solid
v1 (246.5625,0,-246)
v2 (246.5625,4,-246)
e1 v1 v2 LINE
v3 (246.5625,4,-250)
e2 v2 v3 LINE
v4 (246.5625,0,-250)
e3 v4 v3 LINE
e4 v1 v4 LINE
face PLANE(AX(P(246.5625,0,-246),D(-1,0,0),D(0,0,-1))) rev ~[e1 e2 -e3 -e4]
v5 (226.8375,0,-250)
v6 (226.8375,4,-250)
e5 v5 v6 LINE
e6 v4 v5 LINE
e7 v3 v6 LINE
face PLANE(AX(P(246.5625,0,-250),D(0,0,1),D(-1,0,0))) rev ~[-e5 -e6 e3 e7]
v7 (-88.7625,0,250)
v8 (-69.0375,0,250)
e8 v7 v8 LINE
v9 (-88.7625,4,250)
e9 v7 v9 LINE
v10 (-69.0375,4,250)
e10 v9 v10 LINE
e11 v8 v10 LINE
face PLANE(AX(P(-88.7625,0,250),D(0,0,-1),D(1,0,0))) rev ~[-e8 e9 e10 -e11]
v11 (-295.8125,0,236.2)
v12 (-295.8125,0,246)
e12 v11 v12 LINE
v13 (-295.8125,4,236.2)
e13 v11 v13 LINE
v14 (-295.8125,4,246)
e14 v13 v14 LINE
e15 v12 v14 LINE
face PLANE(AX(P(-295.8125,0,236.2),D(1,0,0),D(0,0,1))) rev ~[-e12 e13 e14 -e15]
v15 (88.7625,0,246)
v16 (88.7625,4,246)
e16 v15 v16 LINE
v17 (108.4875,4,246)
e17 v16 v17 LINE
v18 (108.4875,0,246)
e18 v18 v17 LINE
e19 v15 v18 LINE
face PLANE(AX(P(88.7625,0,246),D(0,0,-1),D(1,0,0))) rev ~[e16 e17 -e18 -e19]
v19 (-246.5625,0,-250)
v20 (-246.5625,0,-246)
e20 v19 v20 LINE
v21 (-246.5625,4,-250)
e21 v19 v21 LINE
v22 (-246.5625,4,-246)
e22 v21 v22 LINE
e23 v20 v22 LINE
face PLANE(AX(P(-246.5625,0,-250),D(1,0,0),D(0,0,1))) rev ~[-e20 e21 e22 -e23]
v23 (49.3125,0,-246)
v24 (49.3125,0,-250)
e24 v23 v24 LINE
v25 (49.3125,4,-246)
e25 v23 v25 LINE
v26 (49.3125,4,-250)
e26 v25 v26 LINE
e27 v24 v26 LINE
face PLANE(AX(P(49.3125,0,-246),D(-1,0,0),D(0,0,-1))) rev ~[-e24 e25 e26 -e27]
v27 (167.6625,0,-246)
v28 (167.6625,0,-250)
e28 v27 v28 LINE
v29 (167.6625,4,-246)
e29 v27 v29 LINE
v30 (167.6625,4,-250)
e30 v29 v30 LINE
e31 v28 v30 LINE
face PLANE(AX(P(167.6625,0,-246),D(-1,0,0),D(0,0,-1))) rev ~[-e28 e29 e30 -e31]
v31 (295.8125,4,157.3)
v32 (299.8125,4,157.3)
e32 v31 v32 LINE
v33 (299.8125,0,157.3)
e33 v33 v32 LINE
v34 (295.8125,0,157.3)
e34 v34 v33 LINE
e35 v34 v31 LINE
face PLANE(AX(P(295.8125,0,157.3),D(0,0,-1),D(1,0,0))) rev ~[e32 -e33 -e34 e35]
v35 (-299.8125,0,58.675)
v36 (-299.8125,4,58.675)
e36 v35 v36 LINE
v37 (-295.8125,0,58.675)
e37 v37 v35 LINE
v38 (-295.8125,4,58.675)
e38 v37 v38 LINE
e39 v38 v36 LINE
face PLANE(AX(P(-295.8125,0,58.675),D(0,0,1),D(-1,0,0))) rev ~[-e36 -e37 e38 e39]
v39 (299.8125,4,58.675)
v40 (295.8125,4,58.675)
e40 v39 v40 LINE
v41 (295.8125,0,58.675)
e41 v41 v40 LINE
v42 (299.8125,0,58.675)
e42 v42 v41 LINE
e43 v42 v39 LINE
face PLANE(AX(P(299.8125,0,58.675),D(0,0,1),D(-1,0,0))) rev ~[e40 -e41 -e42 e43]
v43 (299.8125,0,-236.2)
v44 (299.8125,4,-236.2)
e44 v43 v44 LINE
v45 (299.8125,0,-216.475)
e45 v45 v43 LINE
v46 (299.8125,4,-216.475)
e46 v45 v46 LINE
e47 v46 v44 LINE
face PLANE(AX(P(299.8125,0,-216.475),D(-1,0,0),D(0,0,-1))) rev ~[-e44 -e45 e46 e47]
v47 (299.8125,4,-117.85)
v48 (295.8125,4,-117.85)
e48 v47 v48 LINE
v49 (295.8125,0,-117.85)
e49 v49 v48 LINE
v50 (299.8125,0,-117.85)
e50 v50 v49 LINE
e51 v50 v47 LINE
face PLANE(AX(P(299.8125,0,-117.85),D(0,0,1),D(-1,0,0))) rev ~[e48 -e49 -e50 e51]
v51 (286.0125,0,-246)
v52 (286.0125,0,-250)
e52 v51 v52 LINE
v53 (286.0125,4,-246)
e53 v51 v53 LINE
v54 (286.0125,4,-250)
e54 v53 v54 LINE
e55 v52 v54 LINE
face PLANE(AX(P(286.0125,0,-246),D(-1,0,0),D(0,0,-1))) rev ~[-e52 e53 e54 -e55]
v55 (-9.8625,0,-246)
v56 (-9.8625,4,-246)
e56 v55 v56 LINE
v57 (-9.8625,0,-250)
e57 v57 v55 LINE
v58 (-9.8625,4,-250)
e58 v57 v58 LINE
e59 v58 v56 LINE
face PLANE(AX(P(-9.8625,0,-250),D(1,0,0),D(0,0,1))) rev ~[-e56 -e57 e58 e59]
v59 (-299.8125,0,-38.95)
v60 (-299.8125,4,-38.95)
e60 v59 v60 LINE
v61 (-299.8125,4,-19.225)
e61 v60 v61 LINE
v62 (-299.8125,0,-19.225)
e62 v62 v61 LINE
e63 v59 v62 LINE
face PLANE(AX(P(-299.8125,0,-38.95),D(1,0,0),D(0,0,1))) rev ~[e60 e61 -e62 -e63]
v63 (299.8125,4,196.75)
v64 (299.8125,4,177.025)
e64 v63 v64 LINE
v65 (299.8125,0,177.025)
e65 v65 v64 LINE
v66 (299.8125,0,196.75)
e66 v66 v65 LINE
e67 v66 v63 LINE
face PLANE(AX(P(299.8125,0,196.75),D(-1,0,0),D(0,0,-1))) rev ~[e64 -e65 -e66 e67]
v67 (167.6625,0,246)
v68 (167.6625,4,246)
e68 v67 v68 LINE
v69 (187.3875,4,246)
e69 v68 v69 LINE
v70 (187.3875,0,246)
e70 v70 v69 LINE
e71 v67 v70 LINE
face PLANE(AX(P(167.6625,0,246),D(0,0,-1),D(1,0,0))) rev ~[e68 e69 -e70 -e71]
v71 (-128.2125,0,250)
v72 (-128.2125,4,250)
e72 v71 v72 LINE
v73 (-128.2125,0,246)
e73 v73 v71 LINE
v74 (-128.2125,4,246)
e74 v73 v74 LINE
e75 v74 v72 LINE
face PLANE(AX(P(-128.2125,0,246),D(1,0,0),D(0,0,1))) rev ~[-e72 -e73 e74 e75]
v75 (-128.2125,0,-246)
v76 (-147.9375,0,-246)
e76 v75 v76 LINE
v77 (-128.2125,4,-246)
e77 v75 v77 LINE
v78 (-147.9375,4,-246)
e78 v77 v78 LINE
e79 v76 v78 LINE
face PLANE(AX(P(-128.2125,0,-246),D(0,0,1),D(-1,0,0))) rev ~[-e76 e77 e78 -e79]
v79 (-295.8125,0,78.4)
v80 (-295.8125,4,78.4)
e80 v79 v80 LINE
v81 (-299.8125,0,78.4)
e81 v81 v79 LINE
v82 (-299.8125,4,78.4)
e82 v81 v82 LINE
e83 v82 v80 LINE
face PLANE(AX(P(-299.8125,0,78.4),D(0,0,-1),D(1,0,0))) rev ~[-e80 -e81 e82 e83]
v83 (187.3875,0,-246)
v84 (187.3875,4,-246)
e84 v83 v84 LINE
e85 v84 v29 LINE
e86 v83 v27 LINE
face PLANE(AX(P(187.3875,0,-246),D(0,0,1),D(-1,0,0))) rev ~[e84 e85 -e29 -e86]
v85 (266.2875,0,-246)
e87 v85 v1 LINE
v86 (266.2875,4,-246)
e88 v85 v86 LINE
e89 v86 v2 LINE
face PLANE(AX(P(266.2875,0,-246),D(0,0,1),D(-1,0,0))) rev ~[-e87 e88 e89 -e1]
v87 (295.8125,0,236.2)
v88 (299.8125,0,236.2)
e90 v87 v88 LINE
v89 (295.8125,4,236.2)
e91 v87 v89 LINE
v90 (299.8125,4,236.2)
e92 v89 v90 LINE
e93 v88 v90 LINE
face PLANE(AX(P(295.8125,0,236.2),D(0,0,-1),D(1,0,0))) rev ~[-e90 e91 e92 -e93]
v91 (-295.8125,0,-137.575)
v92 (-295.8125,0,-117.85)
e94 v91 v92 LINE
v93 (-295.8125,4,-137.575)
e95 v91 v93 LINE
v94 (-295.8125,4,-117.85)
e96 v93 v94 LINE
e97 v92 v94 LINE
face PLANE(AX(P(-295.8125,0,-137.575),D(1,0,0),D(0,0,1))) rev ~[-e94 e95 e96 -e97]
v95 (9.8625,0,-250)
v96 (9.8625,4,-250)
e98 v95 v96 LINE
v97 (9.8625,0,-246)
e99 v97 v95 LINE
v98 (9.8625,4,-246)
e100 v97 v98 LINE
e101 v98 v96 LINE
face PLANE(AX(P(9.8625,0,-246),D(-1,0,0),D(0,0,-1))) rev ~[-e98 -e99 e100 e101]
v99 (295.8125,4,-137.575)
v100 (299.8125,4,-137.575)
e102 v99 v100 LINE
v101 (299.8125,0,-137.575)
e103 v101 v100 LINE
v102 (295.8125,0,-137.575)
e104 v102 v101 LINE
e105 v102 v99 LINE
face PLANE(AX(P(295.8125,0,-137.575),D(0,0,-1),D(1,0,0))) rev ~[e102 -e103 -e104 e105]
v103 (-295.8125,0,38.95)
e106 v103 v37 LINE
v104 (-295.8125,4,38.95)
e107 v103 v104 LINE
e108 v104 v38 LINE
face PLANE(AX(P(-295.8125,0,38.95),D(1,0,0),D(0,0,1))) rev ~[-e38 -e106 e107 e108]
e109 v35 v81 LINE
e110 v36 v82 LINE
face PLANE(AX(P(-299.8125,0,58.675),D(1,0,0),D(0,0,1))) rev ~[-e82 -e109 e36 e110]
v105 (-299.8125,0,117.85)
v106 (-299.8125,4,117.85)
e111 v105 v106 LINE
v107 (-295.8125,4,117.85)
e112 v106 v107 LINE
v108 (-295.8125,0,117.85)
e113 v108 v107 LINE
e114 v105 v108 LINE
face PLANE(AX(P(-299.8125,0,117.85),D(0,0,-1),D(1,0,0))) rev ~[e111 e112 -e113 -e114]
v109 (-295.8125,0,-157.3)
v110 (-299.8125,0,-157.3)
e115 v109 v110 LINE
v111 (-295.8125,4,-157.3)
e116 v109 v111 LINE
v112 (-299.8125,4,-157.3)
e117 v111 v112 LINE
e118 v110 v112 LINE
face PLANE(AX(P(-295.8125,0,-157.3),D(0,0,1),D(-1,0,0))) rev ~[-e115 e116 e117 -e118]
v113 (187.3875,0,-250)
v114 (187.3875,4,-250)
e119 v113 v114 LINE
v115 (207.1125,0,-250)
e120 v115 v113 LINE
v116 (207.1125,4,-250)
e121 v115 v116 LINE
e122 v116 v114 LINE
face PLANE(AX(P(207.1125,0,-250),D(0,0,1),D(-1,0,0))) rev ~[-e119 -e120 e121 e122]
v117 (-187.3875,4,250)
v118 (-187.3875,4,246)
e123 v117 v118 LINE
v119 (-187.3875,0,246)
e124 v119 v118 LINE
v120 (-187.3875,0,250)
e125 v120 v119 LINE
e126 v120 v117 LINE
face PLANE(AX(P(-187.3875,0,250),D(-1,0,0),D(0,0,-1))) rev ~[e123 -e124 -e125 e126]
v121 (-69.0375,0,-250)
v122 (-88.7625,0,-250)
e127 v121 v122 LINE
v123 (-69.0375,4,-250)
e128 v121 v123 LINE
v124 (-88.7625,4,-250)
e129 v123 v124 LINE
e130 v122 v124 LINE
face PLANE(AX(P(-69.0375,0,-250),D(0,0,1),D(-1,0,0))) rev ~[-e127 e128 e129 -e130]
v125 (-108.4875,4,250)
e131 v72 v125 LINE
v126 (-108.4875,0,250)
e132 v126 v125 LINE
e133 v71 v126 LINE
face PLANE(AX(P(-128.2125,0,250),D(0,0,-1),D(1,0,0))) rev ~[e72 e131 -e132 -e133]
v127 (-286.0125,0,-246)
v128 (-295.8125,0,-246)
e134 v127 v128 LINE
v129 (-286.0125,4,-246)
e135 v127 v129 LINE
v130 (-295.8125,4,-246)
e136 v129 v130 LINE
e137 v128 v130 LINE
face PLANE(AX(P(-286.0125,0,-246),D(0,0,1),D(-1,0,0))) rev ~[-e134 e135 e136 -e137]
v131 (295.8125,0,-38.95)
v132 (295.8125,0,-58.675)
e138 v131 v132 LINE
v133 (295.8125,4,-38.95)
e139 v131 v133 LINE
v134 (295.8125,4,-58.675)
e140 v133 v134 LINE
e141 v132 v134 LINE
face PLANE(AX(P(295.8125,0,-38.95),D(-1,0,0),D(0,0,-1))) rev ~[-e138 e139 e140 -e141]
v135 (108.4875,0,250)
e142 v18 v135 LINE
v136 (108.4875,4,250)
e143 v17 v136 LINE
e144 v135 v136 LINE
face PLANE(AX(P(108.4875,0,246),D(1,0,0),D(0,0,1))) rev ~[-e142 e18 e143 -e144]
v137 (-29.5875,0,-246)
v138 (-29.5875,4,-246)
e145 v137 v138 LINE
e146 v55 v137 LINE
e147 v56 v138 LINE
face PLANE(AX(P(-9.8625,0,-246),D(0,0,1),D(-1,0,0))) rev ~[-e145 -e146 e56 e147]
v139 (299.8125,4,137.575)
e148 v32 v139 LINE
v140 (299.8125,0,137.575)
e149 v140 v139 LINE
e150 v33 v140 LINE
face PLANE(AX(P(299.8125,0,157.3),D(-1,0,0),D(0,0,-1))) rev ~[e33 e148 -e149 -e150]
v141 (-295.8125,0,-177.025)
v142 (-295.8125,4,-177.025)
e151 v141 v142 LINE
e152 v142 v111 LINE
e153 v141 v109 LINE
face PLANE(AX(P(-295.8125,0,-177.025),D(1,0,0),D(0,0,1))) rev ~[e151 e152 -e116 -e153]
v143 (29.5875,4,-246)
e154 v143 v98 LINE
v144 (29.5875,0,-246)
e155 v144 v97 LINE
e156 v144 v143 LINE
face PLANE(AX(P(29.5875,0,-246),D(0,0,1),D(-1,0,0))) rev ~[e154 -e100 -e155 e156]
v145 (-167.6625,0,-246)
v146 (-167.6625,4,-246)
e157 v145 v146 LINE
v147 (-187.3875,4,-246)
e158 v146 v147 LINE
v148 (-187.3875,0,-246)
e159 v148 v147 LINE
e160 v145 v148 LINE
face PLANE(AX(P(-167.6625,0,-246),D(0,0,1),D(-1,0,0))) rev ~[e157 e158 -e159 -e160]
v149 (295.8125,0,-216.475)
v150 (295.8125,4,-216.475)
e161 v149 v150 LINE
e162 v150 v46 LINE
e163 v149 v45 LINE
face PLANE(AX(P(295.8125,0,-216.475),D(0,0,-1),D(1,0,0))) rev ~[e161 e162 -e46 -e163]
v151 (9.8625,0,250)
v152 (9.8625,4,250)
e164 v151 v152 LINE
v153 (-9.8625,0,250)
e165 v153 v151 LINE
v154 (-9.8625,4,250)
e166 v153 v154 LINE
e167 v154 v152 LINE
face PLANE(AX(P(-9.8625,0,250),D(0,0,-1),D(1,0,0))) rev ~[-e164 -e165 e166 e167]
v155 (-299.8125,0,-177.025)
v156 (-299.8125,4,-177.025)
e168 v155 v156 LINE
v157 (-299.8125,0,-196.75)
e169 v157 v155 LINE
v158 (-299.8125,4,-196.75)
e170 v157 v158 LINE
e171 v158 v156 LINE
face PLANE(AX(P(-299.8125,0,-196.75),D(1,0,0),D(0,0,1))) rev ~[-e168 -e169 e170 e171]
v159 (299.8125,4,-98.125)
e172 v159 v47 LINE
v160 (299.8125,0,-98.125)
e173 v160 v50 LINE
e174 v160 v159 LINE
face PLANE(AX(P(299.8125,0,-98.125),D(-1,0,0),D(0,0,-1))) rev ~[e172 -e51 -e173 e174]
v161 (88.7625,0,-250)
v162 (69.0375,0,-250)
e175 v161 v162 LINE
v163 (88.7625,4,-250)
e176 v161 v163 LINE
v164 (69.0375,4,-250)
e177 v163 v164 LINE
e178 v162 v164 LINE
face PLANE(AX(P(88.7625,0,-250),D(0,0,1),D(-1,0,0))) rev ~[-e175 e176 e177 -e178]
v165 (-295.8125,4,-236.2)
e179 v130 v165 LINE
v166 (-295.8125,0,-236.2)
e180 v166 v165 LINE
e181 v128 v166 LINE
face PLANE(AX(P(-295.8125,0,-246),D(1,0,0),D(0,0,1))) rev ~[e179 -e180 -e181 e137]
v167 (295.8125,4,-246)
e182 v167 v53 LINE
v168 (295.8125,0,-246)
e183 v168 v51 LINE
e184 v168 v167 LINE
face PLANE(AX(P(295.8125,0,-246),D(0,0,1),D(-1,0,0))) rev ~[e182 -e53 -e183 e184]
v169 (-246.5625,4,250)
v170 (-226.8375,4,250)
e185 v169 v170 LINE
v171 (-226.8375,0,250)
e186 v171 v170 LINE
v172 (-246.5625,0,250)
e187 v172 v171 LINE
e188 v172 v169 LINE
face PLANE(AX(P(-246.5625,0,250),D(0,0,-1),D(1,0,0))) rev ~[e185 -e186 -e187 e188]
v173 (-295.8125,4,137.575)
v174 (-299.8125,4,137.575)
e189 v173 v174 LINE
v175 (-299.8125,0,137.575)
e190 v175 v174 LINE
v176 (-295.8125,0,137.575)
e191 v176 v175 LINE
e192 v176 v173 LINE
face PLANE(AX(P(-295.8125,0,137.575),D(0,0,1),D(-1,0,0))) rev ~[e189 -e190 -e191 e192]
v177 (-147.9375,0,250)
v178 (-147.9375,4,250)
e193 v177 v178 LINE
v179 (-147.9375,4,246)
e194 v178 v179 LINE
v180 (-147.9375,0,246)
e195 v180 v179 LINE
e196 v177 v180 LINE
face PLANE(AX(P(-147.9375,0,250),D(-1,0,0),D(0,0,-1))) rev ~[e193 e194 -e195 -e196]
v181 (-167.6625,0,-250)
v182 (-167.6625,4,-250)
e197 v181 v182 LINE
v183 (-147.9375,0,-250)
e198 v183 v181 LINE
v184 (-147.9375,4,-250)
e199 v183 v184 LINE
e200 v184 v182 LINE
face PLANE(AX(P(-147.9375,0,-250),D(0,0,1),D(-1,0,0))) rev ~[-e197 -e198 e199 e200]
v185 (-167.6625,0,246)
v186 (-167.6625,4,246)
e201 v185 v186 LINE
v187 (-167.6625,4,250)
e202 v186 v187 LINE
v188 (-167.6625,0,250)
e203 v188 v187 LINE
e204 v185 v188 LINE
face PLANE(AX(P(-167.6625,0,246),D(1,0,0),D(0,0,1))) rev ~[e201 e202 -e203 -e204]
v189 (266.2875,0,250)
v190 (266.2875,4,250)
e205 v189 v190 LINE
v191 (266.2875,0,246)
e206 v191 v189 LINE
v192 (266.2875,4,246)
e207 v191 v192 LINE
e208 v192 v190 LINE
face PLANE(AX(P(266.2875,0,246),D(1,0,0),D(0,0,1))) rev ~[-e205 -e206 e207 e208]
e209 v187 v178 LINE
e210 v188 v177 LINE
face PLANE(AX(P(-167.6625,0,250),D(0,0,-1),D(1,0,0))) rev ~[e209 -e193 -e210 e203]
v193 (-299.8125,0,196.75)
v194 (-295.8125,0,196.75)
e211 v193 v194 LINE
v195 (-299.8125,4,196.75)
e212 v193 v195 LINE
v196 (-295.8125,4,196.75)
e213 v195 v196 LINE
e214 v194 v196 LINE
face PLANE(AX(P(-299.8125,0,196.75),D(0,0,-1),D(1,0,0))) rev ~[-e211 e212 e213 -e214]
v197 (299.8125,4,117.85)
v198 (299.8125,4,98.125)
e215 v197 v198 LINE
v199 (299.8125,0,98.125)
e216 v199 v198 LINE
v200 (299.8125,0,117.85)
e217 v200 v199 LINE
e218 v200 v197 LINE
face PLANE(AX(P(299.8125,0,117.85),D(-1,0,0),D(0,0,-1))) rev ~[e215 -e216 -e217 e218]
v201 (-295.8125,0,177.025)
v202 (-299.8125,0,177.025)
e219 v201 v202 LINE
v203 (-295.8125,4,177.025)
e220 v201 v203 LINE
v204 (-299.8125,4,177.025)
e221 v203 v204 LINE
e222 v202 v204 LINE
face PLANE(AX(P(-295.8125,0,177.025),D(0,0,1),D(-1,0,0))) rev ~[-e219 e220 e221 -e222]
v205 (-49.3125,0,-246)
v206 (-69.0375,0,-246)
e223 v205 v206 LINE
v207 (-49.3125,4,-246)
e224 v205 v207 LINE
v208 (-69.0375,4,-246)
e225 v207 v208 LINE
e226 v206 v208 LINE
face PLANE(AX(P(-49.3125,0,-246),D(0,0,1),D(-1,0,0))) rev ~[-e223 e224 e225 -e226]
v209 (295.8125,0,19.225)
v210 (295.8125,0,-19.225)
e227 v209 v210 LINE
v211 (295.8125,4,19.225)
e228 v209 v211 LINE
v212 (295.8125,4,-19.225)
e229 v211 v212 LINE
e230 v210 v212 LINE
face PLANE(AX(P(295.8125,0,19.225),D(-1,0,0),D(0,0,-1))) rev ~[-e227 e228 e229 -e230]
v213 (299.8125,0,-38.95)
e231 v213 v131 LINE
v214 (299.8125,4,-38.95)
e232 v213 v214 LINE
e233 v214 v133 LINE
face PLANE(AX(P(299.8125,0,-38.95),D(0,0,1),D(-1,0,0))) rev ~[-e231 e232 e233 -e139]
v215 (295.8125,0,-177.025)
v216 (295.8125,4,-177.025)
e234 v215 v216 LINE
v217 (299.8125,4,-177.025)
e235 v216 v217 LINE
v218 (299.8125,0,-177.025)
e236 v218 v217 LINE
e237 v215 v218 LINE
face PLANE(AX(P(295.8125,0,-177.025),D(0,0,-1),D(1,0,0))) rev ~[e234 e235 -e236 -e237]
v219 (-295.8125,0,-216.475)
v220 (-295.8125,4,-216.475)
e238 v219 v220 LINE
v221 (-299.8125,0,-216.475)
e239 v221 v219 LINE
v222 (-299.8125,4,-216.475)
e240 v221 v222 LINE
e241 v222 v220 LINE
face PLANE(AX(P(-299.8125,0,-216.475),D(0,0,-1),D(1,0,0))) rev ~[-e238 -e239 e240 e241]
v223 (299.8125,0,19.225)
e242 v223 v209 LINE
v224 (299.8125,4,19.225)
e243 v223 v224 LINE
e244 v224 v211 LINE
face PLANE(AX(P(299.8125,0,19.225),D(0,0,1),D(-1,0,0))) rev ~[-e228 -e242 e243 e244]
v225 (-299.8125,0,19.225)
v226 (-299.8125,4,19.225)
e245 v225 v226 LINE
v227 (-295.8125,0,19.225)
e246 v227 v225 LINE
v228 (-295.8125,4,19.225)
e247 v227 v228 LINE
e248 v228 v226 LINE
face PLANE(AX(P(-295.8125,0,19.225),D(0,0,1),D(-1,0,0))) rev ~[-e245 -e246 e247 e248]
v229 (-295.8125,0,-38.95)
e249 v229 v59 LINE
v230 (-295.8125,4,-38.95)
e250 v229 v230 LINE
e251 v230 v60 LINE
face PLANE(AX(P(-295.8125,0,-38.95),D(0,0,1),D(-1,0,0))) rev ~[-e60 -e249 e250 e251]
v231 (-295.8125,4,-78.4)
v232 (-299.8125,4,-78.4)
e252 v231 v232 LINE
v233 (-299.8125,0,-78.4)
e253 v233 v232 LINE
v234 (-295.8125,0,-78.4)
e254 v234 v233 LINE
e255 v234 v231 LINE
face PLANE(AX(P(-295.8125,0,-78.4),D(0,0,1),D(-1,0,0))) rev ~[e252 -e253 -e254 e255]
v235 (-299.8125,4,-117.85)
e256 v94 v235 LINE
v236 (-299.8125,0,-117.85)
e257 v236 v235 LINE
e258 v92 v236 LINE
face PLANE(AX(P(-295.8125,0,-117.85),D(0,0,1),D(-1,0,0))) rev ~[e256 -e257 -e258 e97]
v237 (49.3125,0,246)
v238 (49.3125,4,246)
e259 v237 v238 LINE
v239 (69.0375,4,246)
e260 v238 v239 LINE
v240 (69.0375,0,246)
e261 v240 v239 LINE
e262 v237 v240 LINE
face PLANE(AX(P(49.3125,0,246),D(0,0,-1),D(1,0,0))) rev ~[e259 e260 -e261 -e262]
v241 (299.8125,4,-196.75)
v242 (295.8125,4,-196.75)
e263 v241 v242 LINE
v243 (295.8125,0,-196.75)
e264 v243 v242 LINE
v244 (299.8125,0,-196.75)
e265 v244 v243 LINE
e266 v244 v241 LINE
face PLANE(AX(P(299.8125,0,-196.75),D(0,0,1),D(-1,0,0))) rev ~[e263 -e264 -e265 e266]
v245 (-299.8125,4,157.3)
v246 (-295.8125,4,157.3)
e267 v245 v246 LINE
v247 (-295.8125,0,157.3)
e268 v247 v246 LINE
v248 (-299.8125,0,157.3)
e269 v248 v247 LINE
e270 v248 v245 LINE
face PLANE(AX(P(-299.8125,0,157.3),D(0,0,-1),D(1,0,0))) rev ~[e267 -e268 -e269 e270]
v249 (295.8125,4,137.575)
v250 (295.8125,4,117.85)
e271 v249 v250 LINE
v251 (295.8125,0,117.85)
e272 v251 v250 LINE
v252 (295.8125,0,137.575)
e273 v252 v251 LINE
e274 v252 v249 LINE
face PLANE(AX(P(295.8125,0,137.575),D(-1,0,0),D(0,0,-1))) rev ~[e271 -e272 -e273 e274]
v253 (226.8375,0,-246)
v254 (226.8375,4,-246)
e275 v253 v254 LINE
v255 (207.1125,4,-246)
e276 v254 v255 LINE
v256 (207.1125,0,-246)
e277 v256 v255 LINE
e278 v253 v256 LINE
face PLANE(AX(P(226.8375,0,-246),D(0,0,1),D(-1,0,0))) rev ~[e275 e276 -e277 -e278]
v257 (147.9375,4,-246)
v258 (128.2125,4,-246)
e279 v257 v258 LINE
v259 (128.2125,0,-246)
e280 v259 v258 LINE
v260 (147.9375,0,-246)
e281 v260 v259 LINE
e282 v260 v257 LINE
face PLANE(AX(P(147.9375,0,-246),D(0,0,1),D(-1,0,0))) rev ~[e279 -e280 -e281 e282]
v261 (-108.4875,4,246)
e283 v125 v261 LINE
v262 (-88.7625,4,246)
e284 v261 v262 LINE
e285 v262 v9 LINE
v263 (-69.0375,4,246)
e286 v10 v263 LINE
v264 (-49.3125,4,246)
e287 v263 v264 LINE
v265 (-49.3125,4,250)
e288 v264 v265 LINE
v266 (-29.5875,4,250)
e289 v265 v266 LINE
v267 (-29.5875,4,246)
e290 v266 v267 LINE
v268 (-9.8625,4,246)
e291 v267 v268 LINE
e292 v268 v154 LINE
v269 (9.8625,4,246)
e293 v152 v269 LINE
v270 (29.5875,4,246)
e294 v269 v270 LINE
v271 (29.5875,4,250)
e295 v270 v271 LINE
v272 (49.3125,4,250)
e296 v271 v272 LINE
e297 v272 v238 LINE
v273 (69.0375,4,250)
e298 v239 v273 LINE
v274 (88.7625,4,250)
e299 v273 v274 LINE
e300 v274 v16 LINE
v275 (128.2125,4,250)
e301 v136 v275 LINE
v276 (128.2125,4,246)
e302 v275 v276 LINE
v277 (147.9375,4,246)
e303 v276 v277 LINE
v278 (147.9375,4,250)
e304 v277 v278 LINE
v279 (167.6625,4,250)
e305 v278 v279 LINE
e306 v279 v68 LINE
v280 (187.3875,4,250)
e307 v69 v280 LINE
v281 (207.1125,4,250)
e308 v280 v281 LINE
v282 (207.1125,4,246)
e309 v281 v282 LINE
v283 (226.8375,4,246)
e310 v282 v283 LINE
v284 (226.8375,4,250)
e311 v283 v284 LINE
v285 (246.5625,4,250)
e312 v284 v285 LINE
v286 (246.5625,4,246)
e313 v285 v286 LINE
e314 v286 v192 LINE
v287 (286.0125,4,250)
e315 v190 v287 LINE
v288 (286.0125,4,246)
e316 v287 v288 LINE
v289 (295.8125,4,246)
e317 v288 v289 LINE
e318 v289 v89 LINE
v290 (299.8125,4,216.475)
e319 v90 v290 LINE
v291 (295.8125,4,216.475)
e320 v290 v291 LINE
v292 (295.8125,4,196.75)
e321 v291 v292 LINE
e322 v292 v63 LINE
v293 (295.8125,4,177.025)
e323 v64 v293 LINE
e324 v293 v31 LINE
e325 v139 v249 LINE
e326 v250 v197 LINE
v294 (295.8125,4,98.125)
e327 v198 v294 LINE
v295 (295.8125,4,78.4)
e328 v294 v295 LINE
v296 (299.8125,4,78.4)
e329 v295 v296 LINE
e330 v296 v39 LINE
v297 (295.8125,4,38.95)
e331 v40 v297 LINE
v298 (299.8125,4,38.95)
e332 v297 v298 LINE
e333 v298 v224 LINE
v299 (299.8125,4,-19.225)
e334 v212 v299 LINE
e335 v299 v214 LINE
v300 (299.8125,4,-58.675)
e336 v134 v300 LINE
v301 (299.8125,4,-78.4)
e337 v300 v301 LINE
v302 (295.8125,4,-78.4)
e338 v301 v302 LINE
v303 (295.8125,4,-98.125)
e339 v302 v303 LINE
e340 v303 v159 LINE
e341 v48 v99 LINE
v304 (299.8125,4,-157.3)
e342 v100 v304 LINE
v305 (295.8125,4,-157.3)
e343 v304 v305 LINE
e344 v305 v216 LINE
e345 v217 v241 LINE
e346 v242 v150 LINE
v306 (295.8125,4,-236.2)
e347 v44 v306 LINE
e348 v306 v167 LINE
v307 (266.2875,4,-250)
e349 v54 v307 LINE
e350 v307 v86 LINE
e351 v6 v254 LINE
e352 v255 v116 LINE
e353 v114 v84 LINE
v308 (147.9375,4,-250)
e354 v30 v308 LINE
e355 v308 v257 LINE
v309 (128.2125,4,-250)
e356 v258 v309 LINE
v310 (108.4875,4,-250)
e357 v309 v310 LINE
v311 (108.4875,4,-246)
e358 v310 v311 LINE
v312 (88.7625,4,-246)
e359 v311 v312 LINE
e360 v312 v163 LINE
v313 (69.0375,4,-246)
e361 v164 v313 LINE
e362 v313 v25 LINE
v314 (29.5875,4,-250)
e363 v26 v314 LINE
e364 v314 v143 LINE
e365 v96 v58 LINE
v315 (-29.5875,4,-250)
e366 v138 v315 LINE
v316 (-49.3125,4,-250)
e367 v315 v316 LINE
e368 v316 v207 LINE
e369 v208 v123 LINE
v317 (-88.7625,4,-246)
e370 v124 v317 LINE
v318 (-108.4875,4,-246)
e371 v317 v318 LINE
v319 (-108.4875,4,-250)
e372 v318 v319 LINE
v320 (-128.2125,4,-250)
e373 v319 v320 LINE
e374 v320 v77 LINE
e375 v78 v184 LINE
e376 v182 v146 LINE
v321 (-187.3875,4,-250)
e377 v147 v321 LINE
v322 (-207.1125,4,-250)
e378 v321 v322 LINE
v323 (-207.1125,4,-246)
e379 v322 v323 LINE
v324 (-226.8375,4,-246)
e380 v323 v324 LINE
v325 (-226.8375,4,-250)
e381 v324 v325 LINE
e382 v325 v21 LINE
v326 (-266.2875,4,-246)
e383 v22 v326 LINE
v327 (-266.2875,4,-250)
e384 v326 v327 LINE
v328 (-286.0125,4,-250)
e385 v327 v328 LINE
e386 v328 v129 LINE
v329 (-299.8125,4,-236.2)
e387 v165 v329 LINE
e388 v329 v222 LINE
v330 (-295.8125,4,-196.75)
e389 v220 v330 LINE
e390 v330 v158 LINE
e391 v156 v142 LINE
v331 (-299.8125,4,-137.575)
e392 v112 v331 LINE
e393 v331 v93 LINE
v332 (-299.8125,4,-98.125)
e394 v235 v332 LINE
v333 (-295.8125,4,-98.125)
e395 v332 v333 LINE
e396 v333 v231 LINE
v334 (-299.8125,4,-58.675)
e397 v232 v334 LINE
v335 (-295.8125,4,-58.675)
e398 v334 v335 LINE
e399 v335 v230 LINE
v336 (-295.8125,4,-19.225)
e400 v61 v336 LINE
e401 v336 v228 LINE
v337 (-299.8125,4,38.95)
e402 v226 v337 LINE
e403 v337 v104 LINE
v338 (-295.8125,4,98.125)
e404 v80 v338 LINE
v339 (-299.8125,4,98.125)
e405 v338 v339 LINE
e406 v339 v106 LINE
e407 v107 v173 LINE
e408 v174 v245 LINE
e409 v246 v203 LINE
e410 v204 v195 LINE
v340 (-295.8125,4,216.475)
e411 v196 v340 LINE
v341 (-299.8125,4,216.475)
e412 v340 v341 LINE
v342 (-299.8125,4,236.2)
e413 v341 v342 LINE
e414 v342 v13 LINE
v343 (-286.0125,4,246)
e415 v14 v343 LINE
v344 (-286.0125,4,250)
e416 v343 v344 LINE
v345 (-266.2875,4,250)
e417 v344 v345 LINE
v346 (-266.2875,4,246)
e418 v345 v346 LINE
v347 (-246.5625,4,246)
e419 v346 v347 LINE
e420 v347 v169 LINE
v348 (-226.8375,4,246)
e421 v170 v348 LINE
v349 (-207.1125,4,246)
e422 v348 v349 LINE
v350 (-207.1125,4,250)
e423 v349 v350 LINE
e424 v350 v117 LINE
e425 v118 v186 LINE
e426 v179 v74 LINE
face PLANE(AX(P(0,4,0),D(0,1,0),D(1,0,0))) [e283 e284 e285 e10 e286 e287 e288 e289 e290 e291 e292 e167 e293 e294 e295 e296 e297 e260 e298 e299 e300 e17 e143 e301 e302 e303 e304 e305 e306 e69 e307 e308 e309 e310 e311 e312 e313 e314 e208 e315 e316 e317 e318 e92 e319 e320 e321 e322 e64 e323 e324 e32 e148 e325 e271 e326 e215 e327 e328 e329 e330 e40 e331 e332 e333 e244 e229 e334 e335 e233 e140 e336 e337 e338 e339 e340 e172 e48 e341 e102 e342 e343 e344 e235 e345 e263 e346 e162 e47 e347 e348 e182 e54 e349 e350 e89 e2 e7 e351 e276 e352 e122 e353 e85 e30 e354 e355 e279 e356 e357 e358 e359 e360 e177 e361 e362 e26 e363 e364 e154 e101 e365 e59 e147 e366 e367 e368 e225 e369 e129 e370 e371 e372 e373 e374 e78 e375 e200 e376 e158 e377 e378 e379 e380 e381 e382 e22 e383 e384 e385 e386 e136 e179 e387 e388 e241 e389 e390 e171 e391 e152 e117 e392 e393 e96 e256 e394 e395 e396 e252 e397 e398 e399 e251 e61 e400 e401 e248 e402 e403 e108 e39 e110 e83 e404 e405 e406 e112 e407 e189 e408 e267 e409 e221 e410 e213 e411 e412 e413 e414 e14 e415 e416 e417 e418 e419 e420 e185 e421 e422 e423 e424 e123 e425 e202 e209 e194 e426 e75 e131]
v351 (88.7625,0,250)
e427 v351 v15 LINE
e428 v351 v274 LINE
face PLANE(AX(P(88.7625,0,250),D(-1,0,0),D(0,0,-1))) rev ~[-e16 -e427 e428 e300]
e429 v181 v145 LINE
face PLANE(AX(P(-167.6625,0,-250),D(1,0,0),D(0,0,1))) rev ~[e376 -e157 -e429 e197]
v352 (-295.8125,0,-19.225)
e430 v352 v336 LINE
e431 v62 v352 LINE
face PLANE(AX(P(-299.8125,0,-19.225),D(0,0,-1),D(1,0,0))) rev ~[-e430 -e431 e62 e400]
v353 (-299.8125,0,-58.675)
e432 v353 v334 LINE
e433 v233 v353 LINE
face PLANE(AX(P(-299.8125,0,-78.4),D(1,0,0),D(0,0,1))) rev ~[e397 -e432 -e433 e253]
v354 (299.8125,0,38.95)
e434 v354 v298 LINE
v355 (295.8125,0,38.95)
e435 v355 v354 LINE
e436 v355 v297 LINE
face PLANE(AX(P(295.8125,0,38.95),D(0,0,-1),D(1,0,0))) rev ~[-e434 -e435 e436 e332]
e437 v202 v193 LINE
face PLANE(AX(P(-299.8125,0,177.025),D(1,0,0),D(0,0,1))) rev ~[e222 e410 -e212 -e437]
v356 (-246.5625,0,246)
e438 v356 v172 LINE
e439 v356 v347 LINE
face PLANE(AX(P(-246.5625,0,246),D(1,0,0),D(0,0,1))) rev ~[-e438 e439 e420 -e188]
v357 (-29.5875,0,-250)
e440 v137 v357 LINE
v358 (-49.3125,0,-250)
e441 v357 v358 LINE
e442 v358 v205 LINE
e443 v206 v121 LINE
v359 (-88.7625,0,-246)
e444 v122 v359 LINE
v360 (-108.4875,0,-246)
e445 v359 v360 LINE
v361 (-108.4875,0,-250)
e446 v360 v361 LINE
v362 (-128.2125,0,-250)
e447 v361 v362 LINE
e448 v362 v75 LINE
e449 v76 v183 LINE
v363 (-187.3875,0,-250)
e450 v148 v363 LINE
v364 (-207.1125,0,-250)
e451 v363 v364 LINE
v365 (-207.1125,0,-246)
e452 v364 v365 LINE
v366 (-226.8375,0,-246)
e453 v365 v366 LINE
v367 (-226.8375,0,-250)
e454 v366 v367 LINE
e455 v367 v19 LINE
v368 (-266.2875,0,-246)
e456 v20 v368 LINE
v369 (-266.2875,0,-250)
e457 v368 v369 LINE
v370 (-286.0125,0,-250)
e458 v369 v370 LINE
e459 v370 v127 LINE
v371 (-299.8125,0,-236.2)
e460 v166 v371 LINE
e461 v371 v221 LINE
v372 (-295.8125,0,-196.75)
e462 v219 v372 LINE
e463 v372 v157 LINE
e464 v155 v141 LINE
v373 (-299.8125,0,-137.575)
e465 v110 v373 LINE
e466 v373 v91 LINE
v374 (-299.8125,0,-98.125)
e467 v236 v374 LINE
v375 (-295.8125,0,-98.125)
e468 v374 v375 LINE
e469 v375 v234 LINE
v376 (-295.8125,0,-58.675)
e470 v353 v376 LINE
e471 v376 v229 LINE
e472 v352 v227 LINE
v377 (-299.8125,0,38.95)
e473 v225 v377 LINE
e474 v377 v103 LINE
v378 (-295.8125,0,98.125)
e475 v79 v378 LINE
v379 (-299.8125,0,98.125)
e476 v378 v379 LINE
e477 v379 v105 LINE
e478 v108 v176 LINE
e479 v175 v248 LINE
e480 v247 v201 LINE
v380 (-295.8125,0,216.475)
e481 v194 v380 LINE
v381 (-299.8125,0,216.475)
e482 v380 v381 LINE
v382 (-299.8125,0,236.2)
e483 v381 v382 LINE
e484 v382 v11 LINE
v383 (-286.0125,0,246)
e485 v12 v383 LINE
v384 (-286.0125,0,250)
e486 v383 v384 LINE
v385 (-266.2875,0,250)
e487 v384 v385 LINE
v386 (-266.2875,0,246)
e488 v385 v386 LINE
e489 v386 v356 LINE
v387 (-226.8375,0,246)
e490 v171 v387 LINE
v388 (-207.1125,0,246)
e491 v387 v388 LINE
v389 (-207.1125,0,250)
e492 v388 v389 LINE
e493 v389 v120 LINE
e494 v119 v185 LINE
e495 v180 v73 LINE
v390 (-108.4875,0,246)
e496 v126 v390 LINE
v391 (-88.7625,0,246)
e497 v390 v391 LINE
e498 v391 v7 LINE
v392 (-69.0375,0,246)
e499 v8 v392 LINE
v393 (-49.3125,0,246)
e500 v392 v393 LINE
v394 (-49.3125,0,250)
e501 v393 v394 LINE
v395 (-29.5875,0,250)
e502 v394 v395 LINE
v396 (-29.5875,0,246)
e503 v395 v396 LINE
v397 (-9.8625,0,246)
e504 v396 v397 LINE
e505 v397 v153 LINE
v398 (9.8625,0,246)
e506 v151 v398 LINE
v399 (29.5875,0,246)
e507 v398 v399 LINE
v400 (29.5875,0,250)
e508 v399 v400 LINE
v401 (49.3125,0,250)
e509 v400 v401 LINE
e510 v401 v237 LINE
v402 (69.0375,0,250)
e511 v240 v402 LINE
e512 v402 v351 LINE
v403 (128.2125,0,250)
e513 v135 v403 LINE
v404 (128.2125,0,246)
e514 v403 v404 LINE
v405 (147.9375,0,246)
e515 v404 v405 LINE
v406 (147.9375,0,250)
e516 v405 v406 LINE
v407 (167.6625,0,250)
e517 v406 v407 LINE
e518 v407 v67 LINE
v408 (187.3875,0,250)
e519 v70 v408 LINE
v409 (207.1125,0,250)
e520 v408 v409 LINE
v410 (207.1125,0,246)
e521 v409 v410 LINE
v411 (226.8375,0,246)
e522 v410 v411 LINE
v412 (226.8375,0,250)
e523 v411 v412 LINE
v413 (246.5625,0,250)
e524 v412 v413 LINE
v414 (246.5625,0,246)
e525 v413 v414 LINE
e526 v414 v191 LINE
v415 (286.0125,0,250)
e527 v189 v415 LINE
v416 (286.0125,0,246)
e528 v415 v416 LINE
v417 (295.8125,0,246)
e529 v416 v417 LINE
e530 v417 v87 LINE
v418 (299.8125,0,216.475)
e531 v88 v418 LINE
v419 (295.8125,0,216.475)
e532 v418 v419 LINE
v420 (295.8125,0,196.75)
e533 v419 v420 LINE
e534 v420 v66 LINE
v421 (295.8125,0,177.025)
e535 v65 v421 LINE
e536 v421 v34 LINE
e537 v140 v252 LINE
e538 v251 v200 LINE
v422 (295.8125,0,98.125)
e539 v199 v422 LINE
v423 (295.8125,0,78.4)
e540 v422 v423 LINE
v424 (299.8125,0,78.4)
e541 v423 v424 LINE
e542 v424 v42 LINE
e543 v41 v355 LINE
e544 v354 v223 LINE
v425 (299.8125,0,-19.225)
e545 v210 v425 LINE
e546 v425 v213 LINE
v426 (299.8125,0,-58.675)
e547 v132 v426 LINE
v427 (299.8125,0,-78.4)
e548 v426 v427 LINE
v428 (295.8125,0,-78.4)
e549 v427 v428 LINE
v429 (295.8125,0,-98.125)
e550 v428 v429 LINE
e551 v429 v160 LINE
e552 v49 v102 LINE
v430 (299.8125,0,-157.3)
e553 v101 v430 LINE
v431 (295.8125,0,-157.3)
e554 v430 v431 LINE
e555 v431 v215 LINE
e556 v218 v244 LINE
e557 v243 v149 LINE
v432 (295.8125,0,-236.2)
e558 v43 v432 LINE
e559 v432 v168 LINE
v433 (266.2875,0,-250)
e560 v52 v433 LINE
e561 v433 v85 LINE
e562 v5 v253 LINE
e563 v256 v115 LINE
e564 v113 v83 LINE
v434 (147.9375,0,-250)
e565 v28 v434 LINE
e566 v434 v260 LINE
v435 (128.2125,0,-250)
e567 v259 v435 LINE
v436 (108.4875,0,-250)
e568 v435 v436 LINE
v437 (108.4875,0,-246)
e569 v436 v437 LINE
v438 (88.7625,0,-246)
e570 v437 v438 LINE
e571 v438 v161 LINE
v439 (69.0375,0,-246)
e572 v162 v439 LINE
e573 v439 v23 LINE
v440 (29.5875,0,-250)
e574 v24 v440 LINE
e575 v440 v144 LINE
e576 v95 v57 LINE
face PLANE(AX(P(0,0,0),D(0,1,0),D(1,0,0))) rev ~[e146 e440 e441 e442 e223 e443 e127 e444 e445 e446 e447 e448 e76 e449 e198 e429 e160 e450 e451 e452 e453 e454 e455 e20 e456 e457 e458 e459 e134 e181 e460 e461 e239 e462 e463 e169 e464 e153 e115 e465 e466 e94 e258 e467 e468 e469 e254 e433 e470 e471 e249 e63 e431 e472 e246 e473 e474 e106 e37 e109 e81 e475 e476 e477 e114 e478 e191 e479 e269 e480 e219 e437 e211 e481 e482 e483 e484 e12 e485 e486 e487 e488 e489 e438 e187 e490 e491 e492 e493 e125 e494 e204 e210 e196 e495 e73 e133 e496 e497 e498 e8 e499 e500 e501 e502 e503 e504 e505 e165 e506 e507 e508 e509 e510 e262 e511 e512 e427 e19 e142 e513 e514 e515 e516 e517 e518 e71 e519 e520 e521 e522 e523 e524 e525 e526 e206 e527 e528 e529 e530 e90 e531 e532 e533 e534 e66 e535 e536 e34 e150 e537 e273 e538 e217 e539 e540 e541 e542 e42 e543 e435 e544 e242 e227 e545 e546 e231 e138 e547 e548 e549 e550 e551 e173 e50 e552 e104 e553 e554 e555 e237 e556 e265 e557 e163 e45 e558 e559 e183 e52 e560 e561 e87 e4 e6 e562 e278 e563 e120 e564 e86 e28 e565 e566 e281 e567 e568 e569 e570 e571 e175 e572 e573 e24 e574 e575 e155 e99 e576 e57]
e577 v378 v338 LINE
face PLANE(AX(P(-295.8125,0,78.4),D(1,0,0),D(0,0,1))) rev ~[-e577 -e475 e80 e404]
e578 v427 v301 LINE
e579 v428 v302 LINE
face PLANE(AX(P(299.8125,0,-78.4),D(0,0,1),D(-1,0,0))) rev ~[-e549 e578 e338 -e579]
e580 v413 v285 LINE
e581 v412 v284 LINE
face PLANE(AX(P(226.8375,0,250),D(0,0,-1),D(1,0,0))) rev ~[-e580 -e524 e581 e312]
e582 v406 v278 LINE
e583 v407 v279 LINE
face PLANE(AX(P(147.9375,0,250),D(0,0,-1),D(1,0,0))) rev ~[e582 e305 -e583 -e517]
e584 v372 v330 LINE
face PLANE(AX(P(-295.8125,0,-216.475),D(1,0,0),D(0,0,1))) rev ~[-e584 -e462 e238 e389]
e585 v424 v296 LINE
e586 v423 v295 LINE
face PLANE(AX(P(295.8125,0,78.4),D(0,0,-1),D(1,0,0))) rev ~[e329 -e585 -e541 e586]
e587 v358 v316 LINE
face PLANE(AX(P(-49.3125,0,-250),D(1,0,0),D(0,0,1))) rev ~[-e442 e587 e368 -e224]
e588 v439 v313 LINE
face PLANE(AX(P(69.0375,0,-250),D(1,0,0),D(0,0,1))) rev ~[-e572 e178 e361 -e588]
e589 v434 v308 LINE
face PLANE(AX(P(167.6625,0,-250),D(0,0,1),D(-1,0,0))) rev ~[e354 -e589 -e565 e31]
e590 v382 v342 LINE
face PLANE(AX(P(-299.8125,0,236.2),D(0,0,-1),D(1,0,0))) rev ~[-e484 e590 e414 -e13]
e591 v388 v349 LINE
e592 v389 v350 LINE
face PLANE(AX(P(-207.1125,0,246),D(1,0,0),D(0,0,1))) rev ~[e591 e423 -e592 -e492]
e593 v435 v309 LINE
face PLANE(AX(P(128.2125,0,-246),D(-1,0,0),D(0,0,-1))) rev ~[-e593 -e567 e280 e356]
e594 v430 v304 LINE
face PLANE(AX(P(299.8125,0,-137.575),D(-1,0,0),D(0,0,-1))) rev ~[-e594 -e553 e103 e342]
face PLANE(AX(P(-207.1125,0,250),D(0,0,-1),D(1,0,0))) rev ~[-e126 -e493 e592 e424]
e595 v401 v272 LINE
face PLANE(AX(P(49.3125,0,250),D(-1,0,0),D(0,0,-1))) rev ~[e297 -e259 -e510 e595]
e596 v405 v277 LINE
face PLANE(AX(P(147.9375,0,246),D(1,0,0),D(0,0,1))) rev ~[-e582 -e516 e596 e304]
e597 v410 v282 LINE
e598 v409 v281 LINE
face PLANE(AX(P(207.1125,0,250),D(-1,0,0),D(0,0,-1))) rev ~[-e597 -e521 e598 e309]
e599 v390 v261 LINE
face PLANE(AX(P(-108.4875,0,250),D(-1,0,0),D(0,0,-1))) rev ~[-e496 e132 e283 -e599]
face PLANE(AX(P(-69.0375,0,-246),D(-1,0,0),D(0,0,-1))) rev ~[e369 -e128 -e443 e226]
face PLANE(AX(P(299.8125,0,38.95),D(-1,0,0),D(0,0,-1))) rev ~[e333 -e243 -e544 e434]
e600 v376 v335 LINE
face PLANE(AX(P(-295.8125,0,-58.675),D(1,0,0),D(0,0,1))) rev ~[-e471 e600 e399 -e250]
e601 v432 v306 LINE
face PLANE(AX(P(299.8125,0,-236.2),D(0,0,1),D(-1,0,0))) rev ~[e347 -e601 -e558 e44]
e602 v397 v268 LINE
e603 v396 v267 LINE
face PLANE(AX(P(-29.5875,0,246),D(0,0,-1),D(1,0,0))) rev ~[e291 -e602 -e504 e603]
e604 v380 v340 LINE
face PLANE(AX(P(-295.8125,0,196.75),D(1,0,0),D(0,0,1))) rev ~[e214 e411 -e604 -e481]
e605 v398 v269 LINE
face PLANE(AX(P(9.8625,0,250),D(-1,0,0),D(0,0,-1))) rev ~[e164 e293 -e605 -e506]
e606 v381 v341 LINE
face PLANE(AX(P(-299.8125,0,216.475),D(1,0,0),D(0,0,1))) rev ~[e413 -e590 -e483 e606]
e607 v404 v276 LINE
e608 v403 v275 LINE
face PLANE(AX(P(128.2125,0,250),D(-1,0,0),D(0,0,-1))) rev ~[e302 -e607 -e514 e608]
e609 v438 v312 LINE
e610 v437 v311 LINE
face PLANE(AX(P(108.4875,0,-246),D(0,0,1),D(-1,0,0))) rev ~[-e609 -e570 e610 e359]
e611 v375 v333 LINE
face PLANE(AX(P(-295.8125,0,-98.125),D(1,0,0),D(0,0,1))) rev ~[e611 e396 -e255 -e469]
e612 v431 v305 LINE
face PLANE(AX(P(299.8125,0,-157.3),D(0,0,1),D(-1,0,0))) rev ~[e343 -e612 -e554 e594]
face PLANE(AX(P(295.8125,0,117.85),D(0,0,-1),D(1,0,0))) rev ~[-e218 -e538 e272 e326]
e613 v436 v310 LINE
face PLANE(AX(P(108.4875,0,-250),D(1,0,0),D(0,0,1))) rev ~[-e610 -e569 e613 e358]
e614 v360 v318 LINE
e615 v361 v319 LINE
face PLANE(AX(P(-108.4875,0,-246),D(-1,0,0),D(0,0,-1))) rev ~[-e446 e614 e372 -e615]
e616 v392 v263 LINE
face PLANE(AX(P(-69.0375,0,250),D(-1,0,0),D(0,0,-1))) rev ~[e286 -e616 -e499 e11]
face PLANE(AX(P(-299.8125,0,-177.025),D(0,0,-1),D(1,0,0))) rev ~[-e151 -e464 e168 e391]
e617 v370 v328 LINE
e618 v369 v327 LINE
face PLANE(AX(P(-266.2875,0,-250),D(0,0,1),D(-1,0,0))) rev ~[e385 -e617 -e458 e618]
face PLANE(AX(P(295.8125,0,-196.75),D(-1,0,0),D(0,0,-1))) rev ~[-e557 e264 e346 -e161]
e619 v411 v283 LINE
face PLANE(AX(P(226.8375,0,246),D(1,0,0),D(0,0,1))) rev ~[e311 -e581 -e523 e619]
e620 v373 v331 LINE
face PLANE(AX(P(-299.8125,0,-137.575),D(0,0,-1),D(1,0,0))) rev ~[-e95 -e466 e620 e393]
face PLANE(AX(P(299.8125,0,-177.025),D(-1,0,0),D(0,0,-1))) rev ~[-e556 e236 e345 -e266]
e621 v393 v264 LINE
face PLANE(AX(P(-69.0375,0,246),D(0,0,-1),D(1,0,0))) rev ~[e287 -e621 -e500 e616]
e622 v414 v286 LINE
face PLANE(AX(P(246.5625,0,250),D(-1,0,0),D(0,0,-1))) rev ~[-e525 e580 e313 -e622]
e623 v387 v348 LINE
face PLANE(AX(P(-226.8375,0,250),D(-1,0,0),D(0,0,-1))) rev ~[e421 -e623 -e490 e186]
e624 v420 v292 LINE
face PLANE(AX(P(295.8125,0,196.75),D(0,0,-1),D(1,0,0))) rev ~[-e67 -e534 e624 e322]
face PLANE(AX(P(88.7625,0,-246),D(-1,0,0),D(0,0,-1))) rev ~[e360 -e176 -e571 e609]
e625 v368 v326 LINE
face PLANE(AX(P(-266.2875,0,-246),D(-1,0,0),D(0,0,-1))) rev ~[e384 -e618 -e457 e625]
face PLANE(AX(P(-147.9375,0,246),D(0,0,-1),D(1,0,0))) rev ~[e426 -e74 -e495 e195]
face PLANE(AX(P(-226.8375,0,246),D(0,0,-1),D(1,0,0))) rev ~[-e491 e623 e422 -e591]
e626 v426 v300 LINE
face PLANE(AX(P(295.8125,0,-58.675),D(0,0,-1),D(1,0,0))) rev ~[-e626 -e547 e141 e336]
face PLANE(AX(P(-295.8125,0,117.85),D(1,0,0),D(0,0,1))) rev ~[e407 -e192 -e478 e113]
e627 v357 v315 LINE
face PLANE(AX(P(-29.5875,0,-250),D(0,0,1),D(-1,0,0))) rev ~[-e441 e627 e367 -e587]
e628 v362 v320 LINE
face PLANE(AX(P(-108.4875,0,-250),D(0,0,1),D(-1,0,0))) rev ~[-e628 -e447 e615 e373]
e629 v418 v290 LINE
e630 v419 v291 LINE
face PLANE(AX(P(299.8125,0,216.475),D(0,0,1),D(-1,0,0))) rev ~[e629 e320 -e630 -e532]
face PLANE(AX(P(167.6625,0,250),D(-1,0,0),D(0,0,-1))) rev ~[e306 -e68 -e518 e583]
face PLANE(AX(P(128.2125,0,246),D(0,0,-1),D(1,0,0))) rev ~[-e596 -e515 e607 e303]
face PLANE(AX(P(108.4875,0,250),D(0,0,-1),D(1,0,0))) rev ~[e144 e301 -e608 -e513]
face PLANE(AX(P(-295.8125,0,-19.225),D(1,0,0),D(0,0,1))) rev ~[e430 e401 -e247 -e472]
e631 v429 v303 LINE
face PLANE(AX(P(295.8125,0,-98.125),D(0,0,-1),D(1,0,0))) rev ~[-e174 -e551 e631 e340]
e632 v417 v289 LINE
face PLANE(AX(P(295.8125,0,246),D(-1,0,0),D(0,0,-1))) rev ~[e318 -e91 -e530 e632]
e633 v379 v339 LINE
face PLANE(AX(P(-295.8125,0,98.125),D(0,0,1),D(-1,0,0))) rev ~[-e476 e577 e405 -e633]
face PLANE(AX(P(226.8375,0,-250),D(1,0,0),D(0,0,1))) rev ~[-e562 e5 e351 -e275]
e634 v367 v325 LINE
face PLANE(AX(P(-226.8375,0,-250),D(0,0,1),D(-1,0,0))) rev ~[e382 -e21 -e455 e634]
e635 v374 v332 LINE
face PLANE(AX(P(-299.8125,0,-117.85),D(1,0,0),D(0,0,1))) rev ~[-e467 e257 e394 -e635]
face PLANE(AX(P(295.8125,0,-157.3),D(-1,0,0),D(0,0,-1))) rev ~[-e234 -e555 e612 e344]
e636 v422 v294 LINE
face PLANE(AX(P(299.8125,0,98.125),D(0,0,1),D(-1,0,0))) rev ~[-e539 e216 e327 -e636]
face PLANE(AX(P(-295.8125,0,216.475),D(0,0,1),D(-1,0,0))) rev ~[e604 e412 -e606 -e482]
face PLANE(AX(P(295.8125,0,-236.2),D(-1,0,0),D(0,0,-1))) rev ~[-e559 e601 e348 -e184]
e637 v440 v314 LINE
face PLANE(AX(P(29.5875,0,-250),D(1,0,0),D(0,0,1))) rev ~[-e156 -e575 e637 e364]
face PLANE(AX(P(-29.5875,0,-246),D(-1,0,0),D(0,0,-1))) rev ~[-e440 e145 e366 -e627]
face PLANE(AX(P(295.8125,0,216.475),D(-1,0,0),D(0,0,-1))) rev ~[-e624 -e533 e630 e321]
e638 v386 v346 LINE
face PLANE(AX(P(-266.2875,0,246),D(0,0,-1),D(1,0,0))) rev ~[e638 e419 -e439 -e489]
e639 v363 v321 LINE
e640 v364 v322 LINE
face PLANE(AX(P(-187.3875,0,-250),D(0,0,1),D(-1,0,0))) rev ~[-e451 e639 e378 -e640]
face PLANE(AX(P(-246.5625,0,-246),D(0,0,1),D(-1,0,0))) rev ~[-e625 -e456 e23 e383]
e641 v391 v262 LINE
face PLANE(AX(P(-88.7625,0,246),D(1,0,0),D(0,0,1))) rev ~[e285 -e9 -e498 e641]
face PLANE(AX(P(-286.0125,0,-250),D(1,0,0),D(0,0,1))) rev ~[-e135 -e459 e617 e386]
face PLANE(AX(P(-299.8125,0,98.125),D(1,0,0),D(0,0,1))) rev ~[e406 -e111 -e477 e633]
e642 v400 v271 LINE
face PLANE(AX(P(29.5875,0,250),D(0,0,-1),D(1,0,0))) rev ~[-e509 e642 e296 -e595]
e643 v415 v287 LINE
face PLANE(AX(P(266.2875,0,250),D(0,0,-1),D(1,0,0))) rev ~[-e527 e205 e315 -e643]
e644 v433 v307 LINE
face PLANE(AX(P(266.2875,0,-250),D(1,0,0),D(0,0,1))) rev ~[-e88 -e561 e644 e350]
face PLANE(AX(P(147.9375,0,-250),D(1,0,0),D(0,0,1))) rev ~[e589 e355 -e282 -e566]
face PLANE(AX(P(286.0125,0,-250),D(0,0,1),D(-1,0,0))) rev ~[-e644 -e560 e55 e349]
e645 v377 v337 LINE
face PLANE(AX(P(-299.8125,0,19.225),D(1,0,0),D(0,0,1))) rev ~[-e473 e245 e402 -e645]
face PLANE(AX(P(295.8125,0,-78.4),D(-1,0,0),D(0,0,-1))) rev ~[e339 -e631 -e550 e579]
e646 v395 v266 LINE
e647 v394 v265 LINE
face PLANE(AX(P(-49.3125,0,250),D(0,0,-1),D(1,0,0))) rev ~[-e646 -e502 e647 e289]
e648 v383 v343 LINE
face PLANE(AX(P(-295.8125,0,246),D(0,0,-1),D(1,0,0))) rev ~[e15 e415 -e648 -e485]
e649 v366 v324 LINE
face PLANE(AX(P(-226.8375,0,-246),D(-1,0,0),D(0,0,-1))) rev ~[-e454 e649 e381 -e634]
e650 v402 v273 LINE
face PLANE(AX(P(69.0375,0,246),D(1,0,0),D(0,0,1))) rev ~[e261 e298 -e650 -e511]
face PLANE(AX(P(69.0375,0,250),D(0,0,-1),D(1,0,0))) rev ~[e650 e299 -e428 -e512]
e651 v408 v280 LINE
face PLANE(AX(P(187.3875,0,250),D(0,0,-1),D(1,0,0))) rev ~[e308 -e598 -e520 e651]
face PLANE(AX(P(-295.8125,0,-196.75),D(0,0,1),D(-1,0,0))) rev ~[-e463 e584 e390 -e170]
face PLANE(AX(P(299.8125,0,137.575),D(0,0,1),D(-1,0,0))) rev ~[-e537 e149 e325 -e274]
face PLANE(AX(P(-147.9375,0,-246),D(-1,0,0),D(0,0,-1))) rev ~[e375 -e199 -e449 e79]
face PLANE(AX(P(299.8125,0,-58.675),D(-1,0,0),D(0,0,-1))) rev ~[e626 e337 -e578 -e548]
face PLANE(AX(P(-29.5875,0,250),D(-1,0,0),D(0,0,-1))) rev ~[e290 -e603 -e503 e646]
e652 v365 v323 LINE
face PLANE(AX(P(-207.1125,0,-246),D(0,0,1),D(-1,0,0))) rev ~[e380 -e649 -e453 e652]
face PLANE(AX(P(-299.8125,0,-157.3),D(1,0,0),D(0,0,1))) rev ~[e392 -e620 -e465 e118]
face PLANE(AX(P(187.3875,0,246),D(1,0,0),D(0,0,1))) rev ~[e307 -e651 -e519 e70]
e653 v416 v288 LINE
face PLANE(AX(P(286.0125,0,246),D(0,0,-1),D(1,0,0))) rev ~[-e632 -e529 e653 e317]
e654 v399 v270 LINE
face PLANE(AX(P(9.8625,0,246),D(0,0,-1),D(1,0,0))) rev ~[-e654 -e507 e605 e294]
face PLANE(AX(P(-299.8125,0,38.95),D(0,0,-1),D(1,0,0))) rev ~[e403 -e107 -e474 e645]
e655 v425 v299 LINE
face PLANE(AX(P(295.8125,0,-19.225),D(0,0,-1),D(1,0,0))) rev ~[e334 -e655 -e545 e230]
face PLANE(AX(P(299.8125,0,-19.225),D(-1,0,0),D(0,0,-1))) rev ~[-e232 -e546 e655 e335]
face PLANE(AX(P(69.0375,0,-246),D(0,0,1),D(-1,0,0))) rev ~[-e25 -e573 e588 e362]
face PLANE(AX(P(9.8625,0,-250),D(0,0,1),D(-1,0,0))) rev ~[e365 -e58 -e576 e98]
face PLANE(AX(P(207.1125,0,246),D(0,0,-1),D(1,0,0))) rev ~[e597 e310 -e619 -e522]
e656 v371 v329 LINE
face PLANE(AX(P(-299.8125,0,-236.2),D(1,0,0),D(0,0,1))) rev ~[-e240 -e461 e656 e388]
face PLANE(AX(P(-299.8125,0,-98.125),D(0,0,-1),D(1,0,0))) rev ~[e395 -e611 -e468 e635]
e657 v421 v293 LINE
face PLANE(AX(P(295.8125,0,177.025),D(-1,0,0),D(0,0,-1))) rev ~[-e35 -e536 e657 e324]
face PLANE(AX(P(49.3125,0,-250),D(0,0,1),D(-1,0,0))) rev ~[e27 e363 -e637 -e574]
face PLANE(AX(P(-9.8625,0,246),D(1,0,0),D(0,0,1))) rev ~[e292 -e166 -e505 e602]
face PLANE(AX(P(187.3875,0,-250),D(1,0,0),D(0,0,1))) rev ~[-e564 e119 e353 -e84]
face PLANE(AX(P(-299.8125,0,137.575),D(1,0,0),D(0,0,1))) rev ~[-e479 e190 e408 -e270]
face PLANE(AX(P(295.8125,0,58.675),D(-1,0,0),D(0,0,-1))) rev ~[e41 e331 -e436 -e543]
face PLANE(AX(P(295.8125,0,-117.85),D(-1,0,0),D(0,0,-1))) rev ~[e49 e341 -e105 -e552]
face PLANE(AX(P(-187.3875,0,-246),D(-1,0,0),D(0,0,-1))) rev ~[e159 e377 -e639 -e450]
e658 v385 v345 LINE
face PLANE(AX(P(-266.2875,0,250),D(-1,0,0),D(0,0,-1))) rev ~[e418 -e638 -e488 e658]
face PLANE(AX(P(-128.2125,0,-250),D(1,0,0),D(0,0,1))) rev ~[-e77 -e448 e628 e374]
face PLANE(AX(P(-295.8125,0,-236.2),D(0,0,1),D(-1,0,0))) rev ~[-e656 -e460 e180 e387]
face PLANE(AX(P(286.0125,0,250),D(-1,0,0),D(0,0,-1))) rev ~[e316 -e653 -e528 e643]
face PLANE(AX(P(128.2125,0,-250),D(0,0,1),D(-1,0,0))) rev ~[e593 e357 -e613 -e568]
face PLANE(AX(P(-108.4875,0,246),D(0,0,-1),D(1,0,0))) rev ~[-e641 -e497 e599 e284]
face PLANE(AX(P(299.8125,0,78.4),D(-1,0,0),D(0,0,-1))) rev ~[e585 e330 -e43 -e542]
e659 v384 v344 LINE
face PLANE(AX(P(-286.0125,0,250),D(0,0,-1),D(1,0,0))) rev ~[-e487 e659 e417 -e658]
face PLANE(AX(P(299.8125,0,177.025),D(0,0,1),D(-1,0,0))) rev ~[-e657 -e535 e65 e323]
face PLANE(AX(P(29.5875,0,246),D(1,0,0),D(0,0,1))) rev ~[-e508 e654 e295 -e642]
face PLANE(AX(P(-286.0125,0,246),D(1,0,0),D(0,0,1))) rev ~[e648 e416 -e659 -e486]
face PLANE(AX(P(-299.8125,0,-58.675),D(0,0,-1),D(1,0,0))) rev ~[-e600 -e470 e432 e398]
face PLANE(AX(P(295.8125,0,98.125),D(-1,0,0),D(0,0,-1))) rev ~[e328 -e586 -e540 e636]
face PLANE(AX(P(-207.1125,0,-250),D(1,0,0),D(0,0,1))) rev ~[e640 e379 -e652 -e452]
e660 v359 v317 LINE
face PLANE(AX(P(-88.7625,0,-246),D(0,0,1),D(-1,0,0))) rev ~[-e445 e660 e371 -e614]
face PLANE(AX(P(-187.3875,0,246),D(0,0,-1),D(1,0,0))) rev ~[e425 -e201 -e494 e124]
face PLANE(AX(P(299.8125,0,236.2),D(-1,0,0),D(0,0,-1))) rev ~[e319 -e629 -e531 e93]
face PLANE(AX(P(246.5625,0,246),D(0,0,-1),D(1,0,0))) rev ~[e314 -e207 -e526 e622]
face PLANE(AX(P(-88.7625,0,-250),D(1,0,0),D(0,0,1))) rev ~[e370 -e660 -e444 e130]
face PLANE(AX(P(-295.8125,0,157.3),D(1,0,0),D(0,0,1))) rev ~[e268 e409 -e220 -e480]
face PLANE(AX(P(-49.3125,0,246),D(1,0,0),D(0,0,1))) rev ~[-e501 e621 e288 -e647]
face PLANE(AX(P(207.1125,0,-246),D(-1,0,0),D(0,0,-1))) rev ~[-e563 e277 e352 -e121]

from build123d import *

# Parameters (mm, degrees)
BOSS_EXTRUDE1_DEPTH = 4


with BuildPart() as part:
    # Sketch1 → Boss-Extrude1 (new body)
    with BuildSketch(Plane(origin=(0, 0, 0), x_dir=(1, 0, 0), z_dir=(0, 1, 0))):
        Polygon((9.8625, 250), (-9.8625, 250), (-9.8625, 246), (-29.5875, 246), (-29.5875, 250), (-49.3125, 250), (-49.3125, 246), (-69.0375, 246), (-69.0375, 250), (-88.7625, 250), (-88.7625, 246), (-108.4875, 246), (-108.4875, 250), (-128.2125, 250), (-128.2125, 246), (-147.9375, 246), (-147.9375, 250), (-167.6625, 250), (-167.6625, 246), (-187.3875, 246), (-187.3875, 250), (-207.1125, 250), (-207.1125, 246), (-226.8375, 246), (-226.8375, 250), (-246.5625, 250), (-246.5625, 246), (-266.2875, 246), (-266.2875, 250), (-286.0125, 250), (-286.0125, 246), (-295.8125, 246), (-295.8125, 236.2), (-299.8125, 236.2), (-299.8125, 216.475), (-295.8125, 216.475), (-295.8125, 196.75), (-299.8125, 196.75), (-299.8125, 177.025), (-295.8125, 177.025), (-295.8125, 157.3), (-299.8125, 157.3), (-299.8125, 137.575), (-295.8125, 137.575), (-295.8125, 117.85), (-299.8125, 117.85), (-299.8125, 98.125), (-295.8125, 98.125), (-295.8125, 78.4), (-299.8125, 78.4), (-299.8125, 58.675), (-295.8125, 58.675), (-295.8125, 38.95), (-299.8125, 38.95), (-299.8125, 19.225), (-295.8125, 19.225), (-295.8125, -19.225), (-299.8125, -19.225), (-299.8125, -38.95), (-295.8125, -38.95), (-295.8125, -58.675), (-299.8125, -58.675), (-299.8125, -78.4), (-295.8125, -78.4), (-295.8125, -98.125), (-299.8125, -98.125), (-299.8125, -117.85), (-295.8125, -117.85), (-295.8125, -137.575), (-299.8125, -137.575), (-299.8125, -157.3), (-295.8125, -157.3), (-295.8125, -177.025), (-299.8125, -177.025), (-299.8125, -196.75), (-295.8125, -196.75), (-295.8125, -216.475), (-299.8125, -216.475), (-299.8125, -236.2), (-295.8125, -236.2), (-295.8125, -246), (-286.0125, -246), (-286.0125, -250), (-266.2875, -250), (-266.2875, -246), (-246.5625, -246), (-246.5625, -250), (-226.8375, -250), (-226.8375, -246), (-207.1125, -246), (-207.1125, -250), (-187.3875, -250), (-187.3875, -246), (-167.6625, -246), (-167.6625, -250), (-147.9375, -250), (-147.9375, -246), (-128.2125, -246), (-128.2125, -250), (-108.4875, -250), (-108.4875, -246), (-88.7625, -246), (-88.7625, -250), (-69.0375, -250), (-69.0375, -246), (-49.3125, -246), (-49.3125, -250), (-29.5875, -250), (-29.5875, -246), (-9.8625, -246), (-9.8625, -250), (9.8625, -250), (9.8625, -246), (29.5875, -246), (29.5875, -250), (49.3125, -250), (49.3125, -246), (69.0375, -246), (69.0375, -250), (88.7625, -250), (88.7625, -246), (108.4875, -246), (108.4875, -250), (128.2125, -250), (128.2125, -246), (147.9375, -246), (147.9375, -250), (167.6625, -250), (167.6625, -246), (187.3875, -246), (187.3875, -250), (207.1125, -250), (207.1125, -246), (226.8375, -246), (226.8375, -250), (246.5625, -250), (246.5625, -246), (266.2875, -246), (266.2875, -250), (286.0125, -250), (286.0125, -246), (295.8125, -246), (295.8125, -236.2), (299.8125, -236.2), (299.8125, -216.475), (295.8125, -216.475), (295.8125, -196.75), (299.8125, -196.75), (299.8125, -177.025), (295.8125, -177.025), (295.8125, -157.3), (299.8125, -157.3), (299.8125, -137.575), (295.8125, -137.575), (295.8125, -117.85), (299.8125, -117.85), (299.8125, -98.125), (295.8125, -98.125), (295.8125, -78.4), (299.8125, -78.4), (299.8125, -58.675), (295.8125, -58.675), (295.8125, -38.95), (299.8125, -38.95), (299.8125, -19.225), (295.8125, -19.225), (295.8125, 19.225), (299.8125, 19.225), (299.8125, 38.95), (295.8125, 38.95), (295.8125, 58.675), (299.8125, 58.675), (299.8125, 78.4), (295.8125, 78.4), (295.8125, 98.125), (299.8125, 98.125), (299.8125, 117.85), (295.8125, 117.85), (295.8125, 137.575), (299.8125, 137.575), (299.8125, 157.3), (295.8125, 157.3), (295.8125, 177.025), (299.8125, 177.025), (299.8125, 196.75), (295.8125, 196.75), (295.8125, 216.475), (299.8125, 216.475), (299.8125, 236.2), (295.8125, 236.2), (295.8125, 246), (286.0125, 246), (286.0125, 250), (266.2875, 250), (266.2875, 246), (246.5625, 246), (246.5625, 250), (226.8375, 250), (226.8375, 246), (207.1125, 246), (207.1125, 250), (187.3875, 250), (187.3875, 246), (167.6625, 246), (167.6625, 250), (147.9375, 250), (147.9375, 246), (128.2125, 246), (128.2125, 250), (108.4875, 250), (108.4875, 246), (88.7625, 246), (88.7625, 250), (69.0375, 250), (69.0375, 246), (49.3125, 246), (49.3125, 250), (29.5875, 250), (29.5875, 246), (9.8625, 246), align=None)
    extrude(amount=BOSS_EXTRUDE1_DEPTH)


solid = part.part
